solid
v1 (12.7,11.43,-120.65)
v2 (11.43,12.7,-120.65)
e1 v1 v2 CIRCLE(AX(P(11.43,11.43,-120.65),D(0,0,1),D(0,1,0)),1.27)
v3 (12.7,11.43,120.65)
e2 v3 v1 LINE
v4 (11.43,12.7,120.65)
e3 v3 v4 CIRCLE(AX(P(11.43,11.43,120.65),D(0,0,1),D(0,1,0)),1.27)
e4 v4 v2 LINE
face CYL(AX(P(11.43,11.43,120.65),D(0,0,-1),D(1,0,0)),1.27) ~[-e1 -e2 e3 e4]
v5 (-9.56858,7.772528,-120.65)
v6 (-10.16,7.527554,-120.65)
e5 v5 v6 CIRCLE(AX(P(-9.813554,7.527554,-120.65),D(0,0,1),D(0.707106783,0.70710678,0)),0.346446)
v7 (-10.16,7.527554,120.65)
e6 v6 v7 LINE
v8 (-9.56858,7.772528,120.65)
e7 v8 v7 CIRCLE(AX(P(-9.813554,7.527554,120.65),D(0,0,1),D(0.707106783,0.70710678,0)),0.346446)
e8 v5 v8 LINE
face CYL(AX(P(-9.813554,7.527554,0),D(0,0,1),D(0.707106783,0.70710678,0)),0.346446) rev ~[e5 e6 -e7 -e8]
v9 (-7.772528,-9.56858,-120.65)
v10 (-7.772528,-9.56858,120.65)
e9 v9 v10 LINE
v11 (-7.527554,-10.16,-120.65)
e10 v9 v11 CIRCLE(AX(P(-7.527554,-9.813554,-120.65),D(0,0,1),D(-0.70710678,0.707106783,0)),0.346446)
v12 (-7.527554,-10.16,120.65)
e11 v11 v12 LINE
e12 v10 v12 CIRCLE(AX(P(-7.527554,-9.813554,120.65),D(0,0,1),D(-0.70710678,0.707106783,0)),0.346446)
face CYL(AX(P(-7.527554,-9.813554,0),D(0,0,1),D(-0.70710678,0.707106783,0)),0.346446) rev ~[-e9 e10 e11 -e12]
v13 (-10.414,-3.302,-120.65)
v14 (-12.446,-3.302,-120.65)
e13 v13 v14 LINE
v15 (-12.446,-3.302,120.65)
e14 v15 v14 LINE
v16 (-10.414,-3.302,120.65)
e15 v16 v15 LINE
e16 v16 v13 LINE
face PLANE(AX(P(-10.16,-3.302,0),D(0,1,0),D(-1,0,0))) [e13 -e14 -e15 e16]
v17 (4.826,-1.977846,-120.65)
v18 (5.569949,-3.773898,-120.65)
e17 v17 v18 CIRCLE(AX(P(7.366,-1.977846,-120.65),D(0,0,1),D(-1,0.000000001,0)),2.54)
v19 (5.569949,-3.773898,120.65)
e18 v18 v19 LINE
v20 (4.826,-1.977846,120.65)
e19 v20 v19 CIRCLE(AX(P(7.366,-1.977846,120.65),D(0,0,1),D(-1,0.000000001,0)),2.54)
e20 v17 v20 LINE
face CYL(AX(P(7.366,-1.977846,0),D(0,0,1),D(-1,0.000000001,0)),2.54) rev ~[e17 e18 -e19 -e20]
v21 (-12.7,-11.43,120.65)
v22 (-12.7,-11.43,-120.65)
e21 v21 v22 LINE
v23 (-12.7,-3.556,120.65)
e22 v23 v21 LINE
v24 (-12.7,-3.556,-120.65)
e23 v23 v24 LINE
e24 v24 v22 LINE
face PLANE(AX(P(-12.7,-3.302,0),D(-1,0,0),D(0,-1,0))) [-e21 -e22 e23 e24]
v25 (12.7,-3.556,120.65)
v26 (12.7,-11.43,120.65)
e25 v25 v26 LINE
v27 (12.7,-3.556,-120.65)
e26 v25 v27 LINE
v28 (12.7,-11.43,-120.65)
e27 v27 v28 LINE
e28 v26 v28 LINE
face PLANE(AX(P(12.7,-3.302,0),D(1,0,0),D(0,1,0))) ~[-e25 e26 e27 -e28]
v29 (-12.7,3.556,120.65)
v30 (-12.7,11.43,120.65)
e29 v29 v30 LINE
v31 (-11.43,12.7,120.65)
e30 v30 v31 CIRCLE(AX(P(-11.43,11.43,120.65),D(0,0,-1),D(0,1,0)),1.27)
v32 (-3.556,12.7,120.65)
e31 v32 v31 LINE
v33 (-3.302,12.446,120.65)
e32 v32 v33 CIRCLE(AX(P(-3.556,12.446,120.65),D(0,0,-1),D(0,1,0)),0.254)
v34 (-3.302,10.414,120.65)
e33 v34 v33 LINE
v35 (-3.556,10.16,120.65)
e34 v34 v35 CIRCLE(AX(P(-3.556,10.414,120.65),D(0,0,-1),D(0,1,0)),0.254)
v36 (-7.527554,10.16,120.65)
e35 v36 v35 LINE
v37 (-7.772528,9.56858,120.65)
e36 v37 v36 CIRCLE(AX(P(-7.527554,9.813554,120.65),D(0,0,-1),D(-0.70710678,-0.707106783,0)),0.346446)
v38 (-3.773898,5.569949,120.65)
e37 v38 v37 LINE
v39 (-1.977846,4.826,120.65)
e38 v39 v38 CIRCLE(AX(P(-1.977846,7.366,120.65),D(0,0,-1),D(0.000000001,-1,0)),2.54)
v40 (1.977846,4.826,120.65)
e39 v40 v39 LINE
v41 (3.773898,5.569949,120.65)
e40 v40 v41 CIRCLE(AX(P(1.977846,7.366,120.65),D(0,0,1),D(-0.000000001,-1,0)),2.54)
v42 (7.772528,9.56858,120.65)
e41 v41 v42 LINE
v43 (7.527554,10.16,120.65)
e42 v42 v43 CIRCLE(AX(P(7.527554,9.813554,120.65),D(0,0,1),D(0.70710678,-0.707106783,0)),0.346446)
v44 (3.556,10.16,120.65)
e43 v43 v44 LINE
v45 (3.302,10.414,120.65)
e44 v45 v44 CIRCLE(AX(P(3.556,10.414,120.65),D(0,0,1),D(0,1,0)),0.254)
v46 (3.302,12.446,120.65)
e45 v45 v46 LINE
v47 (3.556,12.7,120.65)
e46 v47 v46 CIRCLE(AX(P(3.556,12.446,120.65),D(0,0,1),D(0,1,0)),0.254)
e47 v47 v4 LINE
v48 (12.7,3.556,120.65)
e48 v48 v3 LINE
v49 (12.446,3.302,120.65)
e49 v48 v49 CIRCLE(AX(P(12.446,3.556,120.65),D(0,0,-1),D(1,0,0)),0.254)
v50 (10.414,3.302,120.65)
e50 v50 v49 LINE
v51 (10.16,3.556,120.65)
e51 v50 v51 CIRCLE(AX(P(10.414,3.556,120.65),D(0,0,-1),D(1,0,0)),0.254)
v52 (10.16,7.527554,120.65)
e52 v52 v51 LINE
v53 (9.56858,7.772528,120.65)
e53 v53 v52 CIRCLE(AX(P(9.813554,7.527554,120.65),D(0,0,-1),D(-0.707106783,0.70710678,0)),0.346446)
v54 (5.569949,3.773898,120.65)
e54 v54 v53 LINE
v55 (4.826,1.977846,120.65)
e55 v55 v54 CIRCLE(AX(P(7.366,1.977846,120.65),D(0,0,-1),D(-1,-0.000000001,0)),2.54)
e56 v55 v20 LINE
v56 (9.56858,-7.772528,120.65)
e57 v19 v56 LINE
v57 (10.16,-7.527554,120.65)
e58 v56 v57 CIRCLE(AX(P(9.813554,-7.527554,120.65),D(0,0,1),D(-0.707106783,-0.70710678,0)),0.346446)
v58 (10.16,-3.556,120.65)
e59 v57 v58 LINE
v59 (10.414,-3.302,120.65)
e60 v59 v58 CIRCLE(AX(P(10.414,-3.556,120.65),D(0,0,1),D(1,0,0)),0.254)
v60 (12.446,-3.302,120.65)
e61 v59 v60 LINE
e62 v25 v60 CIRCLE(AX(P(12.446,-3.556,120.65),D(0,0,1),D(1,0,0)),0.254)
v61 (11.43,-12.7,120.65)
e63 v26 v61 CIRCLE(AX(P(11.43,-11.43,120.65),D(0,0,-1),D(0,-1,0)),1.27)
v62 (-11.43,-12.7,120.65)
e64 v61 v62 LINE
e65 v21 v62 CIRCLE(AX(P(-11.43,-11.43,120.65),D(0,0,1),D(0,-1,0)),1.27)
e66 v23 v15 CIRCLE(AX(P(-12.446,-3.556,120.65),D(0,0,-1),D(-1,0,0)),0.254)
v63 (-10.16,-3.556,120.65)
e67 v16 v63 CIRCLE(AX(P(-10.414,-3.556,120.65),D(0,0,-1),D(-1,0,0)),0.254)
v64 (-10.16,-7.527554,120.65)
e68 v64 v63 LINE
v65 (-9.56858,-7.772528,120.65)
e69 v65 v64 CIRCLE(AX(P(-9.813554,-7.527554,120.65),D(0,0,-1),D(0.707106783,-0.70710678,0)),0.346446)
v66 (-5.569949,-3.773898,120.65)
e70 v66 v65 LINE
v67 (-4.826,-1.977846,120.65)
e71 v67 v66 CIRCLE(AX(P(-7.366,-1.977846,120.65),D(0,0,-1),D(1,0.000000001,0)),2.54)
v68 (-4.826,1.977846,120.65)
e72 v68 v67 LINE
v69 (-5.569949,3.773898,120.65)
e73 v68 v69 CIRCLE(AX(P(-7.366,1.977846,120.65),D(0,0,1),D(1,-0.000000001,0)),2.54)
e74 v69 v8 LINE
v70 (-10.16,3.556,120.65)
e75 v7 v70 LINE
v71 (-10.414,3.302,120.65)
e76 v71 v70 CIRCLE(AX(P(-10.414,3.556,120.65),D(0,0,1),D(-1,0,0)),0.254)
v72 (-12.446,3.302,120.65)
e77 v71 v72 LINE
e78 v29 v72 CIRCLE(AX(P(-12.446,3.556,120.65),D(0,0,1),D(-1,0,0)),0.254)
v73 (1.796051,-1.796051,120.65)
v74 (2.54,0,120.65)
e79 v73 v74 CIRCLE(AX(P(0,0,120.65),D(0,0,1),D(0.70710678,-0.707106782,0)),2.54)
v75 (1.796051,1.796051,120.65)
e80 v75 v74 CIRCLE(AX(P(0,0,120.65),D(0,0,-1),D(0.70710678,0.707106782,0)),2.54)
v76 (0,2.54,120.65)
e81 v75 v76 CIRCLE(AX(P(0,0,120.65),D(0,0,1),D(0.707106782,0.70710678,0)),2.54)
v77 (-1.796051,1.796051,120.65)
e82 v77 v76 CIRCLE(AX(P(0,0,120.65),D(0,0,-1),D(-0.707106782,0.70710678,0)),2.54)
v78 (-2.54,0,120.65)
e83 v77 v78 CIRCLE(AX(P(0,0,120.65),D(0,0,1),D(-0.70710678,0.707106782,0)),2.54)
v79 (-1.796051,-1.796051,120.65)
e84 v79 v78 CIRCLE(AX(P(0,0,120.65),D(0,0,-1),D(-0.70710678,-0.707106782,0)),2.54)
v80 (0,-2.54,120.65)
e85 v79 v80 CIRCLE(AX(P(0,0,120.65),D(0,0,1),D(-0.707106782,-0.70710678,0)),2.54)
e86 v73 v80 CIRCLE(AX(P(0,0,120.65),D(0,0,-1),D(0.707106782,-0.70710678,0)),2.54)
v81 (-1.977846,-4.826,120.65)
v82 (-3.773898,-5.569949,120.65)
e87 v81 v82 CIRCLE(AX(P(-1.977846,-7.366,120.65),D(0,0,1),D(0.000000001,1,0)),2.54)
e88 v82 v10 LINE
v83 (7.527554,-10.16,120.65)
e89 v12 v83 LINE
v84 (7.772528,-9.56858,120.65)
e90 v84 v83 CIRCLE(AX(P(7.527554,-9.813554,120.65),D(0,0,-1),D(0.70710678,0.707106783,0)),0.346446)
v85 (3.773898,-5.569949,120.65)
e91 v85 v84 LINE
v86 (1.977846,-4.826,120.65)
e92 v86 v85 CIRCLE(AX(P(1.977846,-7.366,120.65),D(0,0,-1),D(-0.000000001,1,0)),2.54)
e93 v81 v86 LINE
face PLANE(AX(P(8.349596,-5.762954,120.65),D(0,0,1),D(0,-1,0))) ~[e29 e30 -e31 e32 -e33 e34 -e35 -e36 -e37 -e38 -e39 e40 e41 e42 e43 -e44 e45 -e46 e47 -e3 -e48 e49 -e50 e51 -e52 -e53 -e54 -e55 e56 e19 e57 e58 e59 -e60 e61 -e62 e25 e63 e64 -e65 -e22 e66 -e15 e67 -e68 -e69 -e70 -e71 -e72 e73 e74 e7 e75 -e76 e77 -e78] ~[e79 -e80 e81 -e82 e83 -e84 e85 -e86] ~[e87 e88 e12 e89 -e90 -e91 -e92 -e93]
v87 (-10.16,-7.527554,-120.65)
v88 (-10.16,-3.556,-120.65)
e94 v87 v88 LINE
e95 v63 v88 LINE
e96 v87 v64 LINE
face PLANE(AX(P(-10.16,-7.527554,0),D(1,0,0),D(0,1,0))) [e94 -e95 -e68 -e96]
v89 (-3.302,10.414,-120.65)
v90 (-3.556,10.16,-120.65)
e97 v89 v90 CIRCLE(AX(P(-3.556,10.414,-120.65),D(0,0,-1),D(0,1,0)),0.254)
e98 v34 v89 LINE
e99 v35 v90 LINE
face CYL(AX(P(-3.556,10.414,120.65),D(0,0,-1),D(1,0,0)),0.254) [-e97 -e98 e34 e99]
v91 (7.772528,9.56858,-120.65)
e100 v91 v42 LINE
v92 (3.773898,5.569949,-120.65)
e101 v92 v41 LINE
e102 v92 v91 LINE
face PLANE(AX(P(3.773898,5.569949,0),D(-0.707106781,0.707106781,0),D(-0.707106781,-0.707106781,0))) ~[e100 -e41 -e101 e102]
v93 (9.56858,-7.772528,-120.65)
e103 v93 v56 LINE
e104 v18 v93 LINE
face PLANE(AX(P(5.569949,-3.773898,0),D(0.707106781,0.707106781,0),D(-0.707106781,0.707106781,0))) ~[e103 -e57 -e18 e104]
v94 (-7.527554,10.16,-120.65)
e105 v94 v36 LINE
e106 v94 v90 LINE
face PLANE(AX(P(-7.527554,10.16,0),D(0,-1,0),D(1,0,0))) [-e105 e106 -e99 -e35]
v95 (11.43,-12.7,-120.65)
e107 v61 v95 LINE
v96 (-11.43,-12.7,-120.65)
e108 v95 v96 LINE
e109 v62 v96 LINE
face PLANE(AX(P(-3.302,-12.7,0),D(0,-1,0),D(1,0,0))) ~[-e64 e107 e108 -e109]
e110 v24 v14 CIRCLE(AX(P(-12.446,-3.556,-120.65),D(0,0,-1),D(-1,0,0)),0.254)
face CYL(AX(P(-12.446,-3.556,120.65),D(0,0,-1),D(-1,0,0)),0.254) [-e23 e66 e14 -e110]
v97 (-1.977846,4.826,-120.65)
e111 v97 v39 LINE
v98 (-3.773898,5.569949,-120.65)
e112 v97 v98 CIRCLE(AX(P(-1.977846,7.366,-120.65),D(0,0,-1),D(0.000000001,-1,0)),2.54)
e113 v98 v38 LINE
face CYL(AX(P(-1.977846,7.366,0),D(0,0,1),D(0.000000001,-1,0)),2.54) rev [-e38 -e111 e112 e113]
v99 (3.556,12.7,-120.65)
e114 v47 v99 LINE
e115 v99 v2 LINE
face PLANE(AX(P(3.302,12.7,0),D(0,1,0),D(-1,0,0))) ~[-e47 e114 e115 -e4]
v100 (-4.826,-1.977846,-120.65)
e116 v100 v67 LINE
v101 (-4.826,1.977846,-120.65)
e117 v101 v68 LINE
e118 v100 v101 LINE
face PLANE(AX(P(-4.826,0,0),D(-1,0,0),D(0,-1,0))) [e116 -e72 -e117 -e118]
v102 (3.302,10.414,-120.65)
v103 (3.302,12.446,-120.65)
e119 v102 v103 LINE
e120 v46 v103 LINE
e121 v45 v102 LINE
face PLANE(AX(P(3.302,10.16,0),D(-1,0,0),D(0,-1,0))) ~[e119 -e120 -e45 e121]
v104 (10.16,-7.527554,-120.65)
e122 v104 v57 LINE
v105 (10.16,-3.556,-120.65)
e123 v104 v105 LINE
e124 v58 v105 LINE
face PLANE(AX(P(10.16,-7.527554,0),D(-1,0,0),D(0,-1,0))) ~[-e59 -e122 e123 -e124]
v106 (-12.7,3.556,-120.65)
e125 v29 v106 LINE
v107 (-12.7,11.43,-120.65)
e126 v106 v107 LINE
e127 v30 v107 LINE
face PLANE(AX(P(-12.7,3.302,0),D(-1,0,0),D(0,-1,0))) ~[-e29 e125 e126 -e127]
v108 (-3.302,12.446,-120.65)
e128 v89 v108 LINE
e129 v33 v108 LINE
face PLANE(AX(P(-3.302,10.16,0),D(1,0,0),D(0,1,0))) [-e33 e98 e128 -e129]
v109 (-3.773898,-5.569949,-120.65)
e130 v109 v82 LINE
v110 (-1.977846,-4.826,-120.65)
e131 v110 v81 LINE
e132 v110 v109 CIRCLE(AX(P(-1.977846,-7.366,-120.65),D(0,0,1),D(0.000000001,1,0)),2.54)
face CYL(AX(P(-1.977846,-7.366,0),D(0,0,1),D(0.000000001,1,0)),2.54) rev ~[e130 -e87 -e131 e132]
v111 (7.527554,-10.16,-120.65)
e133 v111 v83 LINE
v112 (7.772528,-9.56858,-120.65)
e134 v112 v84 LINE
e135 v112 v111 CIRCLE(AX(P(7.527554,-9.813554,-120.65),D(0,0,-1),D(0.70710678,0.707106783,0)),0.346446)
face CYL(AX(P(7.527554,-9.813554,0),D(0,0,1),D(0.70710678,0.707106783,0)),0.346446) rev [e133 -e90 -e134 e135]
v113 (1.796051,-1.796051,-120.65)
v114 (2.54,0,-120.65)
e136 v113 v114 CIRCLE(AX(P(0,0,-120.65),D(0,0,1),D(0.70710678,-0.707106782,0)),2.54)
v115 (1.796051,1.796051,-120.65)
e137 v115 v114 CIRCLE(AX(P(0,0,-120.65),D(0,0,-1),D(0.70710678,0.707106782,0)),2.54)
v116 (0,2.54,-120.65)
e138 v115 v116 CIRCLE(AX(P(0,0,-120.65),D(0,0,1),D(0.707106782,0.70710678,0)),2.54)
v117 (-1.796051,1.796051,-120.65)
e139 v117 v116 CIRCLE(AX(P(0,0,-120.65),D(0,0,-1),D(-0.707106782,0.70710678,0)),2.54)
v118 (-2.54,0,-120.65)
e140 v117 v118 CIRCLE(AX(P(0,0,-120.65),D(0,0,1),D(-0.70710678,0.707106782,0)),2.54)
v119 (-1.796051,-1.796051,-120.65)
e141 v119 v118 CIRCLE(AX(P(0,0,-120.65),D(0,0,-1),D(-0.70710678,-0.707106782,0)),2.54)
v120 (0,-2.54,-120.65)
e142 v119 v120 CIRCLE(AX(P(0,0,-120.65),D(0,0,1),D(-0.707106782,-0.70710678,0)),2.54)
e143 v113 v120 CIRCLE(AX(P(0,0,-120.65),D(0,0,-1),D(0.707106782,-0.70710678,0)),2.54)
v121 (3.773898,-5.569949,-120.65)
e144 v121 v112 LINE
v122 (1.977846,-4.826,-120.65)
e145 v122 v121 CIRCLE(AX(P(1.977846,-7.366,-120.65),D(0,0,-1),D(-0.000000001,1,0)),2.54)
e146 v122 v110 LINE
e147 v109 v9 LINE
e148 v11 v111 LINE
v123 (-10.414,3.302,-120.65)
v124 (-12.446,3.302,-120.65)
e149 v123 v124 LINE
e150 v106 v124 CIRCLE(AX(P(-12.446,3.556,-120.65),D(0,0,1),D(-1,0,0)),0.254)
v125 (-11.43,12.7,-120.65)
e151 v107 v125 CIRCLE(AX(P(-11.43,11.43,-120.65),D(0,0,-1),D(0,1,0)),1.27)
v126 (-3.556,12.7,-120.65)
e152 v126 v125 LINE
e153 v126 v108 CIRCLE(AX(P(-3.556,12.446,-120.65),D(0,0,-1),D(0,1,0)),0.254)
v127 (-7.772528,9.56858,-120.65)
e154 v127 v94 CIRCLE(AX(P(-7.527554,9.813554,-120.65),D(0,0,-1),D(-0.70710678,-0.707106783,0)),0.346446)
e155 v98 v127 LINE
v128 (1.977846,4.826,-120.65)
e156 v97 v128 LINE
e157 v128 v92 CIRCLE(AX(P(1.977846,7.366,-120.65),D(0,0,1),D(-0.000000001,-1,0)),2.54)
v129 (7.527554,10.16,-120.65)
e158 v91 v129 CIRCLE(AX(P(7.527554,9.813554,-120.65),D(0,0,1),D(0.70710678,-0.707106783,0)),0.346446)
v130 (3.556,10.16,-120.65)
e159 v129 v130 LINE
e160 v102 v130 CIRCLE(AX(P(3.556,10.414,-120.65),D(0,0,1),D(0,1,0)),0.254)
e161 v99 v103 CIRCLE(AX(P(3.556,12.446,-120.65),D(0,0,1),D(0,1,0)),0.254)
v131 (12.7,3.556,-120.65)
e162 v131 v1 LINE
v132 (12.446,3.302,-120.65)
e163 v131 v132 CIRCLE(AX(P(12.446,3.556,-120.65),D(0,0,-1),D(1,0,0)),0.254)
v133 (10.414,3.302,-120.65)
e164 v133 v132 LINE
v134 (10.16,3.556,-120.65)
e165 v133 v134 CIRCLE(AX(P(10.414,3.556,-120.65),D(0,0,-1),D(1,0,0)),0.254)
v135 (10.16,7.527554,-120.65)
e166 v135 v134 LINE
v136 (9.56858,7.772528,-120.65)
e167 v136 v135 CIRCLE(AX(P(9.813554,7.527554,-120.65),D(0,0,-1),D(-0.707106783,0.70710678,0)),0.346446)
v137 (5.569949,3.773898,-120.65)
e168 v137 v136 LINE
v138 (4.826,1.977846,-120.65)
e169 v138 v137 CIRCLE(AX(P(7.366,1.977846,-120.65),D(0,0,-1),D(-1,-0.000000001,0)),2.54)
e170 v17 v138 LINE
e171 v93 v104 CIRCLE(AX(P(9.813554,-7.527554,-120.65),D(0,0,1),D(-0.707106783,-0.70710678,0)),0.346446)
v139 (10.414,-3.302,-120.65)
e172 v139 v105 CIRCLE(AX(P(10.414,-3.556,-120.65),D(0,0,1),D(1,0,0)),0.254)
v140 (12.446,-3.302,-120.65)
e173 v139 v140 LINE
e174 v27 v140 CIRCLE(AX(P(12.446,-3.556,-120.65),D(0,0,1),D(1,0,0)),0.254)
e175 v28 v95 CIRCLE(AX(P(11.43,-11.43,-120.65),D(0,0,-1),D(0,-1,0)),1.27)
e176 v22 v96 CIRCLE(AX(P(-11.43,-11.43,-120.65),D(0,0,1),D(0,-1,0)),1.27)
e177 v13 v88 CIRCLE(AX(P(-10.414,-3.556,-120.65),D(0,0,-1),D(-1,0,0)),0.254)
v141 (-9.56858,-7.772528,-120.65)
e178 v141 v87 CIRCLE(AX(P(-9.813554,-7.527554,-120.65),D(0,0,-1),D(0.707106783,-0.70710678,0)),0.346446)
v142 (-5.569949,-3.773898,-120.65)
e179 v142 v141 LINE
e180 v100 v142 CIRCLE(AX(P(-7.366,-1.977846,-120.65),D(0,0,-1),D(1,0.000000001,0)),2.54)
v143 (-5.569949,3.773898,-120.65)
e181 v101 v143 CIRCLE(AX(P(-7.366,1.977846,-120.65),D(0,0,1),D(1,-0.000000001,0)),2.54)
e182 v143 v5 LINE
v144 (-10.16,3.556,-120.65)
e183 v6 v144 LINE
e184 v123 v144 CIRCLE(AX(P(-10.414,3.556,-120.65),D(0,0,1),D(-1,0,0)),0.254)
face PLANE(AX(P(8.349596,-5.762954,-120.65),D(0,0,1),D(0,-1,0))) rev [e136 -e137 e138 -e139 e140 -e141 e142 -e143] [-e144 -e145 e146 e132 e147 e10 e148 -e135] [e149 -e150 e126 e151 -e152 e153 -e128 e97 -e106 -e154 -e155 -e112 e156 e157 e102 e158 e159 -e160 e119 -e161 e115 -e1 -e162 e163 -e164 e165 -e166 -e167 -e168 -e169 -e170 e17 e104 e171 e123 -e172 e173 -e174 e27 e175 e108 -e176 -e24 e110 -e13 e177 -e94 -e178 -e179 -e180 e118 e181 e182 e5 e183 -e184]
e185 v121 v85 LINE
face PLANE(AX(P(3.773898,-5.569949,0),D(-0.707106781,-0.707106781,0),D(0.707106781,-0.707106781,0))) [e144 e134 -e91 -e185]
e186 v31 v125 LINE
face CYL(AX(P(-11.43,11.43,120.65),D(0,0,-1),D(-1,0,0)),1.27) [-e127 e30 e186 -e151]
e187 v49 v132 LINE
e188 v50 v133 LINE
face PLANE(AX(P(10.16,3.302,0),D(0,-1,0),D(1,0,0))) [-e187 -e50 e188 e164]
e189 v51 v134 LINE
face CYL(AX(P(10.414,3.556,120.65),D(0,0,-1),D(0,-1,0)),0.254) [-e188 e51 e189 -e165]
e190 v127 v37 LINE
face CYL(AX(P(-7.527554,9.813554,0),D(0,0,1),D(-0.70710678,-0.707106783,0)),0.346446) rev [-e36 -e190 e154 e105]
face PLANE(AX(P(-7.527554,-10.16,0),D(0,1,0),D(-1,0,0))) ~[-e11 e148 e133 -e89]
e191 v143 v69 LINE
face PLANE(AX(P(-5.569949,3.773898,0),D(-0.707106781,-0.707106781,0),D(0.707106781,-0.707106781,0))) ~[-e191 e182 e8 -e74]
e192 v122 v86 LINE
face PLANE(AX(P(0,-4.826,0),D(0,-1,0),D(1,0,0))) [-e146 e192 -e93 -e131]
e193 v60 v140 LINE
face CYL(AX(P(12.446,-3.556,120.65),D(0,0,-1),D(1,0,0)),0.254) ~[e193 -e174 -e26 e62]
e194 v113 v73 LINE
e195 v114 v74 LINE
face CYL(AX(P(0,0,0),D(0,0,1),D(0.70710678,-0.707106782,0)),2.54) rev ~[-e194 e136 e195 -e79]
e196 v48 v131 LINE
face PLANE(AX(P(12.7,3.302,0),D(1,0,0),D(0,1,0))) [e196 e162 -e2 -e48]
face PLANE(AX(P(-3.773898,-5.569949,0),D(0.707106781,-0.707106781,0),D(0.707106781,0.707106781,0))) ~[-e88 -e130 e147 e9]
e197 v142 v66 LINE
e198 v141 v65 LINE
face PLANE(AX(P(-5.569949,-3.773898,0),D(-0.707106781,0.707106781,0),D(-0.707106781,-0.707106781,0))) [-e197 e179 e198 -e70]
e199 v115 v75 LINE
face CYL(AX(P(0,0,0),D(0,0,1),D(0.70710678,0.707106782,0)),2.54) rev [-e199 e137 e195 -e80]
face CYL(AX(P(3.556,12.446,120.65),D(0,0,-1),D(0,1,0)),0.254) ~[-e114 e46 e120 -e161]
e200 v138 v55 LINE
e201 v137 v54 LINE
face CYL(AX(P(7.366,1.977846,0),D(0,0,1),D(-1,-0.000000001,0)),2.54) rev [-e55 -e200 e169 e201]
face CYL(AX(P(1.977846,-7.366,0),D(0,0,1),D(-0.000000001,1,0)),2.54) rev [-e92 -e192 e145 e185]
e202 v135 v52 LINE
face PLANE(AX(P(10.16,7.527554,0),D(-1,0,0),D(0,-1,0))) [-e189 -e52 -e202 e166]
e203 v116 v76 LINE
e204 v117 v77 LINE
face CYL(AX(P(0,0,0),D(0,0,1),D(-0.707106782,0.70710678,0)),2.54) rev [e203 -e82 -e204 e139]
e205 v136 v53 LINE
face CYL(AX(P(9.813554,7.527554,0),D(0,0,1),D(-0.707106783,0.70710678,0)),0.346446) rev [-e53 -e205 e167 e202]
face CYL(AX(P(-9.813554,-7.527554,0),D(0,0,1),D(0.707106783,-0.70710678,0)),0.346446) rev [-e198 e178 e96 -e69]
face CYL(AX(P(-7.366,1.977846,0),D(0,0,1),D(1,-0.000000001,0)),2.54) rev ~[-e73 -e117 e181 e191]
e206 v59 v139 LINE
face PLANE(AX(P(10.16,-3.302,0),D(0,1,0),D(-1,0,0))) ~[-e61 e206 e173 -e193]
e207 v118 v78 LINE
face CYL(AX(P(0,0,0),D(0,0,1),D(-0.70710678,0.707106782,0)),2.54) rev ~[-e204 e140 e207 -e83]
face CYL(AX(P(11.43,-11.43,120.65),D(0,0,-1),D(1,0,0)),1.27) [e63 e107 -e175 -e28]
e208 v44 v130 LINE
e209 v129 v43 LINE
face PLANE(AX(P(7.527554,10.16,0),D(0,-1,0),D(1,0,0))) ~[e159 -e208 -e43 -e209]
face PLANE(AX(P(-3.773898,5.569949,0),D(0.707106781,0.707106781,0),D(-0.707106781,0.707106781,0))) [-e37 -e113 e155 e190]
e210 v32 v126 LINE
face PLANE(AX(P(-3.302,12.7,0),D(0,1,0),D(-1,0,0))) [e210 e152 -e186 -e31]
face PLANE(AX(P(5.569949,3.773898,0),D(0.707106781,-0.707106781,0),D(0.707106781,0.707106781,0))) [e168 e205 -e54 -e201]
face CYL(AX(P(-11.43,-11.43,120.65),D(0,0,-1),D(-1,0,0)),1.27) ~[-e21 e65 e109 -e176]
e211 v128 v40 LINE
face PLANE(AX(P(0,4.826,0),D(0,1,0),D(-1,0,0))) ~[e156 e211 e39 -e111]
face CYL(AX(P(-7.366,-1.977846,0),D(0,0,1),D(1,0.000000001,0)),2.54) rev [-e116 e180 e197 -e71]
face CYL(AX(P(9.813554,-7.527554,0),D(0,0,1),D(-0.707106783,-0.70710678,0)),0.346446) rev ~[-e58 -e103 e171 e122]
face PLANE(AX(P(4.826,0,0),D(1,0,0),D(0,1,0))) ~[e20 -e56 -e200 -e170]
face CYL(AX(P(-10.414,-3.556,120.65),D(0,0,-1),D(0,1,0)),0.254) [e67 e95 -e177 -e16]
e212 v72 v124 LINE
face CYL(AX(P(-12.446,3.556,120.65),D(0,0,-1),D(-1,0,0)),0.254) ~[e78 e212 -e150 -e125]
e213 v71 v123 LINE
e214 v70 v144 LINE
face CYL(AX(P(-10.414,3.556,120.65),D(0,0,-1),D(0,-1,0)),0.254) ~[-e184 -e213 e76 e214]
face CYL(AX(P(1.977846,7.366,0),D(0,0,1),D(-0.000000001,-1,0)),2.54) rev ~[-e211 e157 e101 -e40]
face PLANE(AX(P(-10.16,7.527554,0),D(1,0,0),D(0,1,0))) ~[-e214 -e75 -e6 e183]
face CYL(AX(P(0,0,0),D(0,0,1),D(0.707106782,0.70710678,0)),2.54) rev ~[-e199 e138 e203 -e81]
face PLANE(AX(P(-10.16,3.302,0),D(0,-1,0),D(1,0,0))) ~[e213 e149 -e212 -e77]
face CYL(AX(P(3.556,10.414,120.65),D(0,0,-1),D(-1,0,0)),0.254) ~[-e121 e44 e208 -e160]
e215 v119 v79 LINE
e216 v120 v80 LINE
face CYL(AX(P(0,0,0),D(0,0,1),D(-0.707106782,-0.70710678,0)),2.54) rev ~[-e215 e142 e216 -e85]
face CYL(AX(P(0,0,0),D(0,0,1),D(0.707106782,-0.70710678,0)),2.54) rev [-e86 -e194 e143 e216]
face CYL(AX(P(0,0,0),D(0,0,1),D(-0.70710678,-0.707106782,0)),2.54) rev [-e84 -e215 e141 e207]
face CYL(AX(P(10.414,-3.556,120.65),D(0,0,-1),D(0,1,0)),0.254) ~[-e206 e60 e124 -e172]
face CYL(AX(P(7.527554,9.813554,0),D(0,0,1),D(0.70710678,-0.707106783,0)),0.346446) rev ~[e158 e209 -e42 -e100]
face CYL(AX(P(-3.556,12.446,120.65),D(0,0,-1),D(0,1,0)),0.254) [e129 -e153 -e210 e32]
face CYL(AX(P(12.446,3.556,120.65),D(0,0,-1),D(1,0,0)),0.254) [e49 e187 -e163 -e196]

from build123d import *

# Parameters (mm, degrees)
BOSS_EXTRUDE1_DEPTH = 120.65
FILLET2_R           = 0.254
FILLET1_R           = 1.27
SKETCH5_W           = 7.112
SKETCH5_H           = 2.54
BOSS_EXTRUDE2_DEPTH = 241.3


with BuildPart() as part:
    # Sketch3 → Boss-Extrude1 (new body, symmetric)
    with BuildSketch(Plane.XY):
        with BuildLine():
            Line((-12.7, 12.7), (-1.796051224, 1.796051224))
            ThreePointArc((-1.796051224, 1.796051224), (-0.972015918, 2.346654013), (0, 2.54))
            Line((0, 2.54), (0, 4.826))
            Line((0, 4.826), (-1.977846327, 4.826))
            ThreePointArc((-1.977846327, 4.826), (-2.949862246, 5.019345987), (-3.773897552, 5.569948776))
            Line((-3.773897552, 5.569948776), (-7.772528286, 9.56857951))
            ThreePointArc((-7.772528286, 9.56857951), (-7.847628361, 9.946133082), (-7.527553898, 10.16))
            Line((-7.527553898, 10.16), (-3.302, 10.16))
            Line((-3.302, 10.16), (-3.302, 12.7))
            Line((-3.302, 12.7), (-12.7, 12.7))
        make_face()
    extrude(amount=BOSS_EXTRUDE1_DEPTH, both=True)

    # Fillet2
    fillet2_edges = [part.edges().sort_by_distance(p)[0] for p in [
        (-3.302, 12.7, 0),
        (-3.302, 10.16, 0),
    ]]
    fillet(fillet2_edges, radius=FILLET2_R)

    # Mirror1: part across plane


with BuildPart() as part_1:
    add(part.part)
    add(part.part.mirror(Plane(origin=(0, 0, 120.65), x_dir=(0, 0, 1), z_dir=(0.707106781, 0.707106781, 0))))

    # Fillet1
    fillet1_edges = [part_1.edges().sort_by_distance(p)[0] for p in [
        (-12.7, 12.7, 0),
    ]]
    fillet(fillet1_edges, radius=FILLET1_R)

    # Mirror2: part across plane


with BuildPart() as part_2:
    add(part_1.part)
    add(part_1.part.mirror(Plane(origin=(0, 0, 120.65), x_dir=(0, 0, 1), z_dir=(0, 1, 0))))

    # Mirror5: part across plane


with BuildPart() as part_3:
    add(part_2.part)
    add(part_2.part.mirror(Plane(origin=(0, 0, 120.65), x_dir=(0, 0, 1), z_dir=(-1, 0, 0))))

    # Sketch5 → Boss-Extrude2 (add, through all)
    with BuildSketch(Plane.XY.offset(120.65)):
        with Locations((0, -11.43)):
            Rectangle(SKETCH5_W, SKETCH5_H)
    extrude(amount=-BOSS_EXTRUDE2_DEPTH)


solid = part_3.part
